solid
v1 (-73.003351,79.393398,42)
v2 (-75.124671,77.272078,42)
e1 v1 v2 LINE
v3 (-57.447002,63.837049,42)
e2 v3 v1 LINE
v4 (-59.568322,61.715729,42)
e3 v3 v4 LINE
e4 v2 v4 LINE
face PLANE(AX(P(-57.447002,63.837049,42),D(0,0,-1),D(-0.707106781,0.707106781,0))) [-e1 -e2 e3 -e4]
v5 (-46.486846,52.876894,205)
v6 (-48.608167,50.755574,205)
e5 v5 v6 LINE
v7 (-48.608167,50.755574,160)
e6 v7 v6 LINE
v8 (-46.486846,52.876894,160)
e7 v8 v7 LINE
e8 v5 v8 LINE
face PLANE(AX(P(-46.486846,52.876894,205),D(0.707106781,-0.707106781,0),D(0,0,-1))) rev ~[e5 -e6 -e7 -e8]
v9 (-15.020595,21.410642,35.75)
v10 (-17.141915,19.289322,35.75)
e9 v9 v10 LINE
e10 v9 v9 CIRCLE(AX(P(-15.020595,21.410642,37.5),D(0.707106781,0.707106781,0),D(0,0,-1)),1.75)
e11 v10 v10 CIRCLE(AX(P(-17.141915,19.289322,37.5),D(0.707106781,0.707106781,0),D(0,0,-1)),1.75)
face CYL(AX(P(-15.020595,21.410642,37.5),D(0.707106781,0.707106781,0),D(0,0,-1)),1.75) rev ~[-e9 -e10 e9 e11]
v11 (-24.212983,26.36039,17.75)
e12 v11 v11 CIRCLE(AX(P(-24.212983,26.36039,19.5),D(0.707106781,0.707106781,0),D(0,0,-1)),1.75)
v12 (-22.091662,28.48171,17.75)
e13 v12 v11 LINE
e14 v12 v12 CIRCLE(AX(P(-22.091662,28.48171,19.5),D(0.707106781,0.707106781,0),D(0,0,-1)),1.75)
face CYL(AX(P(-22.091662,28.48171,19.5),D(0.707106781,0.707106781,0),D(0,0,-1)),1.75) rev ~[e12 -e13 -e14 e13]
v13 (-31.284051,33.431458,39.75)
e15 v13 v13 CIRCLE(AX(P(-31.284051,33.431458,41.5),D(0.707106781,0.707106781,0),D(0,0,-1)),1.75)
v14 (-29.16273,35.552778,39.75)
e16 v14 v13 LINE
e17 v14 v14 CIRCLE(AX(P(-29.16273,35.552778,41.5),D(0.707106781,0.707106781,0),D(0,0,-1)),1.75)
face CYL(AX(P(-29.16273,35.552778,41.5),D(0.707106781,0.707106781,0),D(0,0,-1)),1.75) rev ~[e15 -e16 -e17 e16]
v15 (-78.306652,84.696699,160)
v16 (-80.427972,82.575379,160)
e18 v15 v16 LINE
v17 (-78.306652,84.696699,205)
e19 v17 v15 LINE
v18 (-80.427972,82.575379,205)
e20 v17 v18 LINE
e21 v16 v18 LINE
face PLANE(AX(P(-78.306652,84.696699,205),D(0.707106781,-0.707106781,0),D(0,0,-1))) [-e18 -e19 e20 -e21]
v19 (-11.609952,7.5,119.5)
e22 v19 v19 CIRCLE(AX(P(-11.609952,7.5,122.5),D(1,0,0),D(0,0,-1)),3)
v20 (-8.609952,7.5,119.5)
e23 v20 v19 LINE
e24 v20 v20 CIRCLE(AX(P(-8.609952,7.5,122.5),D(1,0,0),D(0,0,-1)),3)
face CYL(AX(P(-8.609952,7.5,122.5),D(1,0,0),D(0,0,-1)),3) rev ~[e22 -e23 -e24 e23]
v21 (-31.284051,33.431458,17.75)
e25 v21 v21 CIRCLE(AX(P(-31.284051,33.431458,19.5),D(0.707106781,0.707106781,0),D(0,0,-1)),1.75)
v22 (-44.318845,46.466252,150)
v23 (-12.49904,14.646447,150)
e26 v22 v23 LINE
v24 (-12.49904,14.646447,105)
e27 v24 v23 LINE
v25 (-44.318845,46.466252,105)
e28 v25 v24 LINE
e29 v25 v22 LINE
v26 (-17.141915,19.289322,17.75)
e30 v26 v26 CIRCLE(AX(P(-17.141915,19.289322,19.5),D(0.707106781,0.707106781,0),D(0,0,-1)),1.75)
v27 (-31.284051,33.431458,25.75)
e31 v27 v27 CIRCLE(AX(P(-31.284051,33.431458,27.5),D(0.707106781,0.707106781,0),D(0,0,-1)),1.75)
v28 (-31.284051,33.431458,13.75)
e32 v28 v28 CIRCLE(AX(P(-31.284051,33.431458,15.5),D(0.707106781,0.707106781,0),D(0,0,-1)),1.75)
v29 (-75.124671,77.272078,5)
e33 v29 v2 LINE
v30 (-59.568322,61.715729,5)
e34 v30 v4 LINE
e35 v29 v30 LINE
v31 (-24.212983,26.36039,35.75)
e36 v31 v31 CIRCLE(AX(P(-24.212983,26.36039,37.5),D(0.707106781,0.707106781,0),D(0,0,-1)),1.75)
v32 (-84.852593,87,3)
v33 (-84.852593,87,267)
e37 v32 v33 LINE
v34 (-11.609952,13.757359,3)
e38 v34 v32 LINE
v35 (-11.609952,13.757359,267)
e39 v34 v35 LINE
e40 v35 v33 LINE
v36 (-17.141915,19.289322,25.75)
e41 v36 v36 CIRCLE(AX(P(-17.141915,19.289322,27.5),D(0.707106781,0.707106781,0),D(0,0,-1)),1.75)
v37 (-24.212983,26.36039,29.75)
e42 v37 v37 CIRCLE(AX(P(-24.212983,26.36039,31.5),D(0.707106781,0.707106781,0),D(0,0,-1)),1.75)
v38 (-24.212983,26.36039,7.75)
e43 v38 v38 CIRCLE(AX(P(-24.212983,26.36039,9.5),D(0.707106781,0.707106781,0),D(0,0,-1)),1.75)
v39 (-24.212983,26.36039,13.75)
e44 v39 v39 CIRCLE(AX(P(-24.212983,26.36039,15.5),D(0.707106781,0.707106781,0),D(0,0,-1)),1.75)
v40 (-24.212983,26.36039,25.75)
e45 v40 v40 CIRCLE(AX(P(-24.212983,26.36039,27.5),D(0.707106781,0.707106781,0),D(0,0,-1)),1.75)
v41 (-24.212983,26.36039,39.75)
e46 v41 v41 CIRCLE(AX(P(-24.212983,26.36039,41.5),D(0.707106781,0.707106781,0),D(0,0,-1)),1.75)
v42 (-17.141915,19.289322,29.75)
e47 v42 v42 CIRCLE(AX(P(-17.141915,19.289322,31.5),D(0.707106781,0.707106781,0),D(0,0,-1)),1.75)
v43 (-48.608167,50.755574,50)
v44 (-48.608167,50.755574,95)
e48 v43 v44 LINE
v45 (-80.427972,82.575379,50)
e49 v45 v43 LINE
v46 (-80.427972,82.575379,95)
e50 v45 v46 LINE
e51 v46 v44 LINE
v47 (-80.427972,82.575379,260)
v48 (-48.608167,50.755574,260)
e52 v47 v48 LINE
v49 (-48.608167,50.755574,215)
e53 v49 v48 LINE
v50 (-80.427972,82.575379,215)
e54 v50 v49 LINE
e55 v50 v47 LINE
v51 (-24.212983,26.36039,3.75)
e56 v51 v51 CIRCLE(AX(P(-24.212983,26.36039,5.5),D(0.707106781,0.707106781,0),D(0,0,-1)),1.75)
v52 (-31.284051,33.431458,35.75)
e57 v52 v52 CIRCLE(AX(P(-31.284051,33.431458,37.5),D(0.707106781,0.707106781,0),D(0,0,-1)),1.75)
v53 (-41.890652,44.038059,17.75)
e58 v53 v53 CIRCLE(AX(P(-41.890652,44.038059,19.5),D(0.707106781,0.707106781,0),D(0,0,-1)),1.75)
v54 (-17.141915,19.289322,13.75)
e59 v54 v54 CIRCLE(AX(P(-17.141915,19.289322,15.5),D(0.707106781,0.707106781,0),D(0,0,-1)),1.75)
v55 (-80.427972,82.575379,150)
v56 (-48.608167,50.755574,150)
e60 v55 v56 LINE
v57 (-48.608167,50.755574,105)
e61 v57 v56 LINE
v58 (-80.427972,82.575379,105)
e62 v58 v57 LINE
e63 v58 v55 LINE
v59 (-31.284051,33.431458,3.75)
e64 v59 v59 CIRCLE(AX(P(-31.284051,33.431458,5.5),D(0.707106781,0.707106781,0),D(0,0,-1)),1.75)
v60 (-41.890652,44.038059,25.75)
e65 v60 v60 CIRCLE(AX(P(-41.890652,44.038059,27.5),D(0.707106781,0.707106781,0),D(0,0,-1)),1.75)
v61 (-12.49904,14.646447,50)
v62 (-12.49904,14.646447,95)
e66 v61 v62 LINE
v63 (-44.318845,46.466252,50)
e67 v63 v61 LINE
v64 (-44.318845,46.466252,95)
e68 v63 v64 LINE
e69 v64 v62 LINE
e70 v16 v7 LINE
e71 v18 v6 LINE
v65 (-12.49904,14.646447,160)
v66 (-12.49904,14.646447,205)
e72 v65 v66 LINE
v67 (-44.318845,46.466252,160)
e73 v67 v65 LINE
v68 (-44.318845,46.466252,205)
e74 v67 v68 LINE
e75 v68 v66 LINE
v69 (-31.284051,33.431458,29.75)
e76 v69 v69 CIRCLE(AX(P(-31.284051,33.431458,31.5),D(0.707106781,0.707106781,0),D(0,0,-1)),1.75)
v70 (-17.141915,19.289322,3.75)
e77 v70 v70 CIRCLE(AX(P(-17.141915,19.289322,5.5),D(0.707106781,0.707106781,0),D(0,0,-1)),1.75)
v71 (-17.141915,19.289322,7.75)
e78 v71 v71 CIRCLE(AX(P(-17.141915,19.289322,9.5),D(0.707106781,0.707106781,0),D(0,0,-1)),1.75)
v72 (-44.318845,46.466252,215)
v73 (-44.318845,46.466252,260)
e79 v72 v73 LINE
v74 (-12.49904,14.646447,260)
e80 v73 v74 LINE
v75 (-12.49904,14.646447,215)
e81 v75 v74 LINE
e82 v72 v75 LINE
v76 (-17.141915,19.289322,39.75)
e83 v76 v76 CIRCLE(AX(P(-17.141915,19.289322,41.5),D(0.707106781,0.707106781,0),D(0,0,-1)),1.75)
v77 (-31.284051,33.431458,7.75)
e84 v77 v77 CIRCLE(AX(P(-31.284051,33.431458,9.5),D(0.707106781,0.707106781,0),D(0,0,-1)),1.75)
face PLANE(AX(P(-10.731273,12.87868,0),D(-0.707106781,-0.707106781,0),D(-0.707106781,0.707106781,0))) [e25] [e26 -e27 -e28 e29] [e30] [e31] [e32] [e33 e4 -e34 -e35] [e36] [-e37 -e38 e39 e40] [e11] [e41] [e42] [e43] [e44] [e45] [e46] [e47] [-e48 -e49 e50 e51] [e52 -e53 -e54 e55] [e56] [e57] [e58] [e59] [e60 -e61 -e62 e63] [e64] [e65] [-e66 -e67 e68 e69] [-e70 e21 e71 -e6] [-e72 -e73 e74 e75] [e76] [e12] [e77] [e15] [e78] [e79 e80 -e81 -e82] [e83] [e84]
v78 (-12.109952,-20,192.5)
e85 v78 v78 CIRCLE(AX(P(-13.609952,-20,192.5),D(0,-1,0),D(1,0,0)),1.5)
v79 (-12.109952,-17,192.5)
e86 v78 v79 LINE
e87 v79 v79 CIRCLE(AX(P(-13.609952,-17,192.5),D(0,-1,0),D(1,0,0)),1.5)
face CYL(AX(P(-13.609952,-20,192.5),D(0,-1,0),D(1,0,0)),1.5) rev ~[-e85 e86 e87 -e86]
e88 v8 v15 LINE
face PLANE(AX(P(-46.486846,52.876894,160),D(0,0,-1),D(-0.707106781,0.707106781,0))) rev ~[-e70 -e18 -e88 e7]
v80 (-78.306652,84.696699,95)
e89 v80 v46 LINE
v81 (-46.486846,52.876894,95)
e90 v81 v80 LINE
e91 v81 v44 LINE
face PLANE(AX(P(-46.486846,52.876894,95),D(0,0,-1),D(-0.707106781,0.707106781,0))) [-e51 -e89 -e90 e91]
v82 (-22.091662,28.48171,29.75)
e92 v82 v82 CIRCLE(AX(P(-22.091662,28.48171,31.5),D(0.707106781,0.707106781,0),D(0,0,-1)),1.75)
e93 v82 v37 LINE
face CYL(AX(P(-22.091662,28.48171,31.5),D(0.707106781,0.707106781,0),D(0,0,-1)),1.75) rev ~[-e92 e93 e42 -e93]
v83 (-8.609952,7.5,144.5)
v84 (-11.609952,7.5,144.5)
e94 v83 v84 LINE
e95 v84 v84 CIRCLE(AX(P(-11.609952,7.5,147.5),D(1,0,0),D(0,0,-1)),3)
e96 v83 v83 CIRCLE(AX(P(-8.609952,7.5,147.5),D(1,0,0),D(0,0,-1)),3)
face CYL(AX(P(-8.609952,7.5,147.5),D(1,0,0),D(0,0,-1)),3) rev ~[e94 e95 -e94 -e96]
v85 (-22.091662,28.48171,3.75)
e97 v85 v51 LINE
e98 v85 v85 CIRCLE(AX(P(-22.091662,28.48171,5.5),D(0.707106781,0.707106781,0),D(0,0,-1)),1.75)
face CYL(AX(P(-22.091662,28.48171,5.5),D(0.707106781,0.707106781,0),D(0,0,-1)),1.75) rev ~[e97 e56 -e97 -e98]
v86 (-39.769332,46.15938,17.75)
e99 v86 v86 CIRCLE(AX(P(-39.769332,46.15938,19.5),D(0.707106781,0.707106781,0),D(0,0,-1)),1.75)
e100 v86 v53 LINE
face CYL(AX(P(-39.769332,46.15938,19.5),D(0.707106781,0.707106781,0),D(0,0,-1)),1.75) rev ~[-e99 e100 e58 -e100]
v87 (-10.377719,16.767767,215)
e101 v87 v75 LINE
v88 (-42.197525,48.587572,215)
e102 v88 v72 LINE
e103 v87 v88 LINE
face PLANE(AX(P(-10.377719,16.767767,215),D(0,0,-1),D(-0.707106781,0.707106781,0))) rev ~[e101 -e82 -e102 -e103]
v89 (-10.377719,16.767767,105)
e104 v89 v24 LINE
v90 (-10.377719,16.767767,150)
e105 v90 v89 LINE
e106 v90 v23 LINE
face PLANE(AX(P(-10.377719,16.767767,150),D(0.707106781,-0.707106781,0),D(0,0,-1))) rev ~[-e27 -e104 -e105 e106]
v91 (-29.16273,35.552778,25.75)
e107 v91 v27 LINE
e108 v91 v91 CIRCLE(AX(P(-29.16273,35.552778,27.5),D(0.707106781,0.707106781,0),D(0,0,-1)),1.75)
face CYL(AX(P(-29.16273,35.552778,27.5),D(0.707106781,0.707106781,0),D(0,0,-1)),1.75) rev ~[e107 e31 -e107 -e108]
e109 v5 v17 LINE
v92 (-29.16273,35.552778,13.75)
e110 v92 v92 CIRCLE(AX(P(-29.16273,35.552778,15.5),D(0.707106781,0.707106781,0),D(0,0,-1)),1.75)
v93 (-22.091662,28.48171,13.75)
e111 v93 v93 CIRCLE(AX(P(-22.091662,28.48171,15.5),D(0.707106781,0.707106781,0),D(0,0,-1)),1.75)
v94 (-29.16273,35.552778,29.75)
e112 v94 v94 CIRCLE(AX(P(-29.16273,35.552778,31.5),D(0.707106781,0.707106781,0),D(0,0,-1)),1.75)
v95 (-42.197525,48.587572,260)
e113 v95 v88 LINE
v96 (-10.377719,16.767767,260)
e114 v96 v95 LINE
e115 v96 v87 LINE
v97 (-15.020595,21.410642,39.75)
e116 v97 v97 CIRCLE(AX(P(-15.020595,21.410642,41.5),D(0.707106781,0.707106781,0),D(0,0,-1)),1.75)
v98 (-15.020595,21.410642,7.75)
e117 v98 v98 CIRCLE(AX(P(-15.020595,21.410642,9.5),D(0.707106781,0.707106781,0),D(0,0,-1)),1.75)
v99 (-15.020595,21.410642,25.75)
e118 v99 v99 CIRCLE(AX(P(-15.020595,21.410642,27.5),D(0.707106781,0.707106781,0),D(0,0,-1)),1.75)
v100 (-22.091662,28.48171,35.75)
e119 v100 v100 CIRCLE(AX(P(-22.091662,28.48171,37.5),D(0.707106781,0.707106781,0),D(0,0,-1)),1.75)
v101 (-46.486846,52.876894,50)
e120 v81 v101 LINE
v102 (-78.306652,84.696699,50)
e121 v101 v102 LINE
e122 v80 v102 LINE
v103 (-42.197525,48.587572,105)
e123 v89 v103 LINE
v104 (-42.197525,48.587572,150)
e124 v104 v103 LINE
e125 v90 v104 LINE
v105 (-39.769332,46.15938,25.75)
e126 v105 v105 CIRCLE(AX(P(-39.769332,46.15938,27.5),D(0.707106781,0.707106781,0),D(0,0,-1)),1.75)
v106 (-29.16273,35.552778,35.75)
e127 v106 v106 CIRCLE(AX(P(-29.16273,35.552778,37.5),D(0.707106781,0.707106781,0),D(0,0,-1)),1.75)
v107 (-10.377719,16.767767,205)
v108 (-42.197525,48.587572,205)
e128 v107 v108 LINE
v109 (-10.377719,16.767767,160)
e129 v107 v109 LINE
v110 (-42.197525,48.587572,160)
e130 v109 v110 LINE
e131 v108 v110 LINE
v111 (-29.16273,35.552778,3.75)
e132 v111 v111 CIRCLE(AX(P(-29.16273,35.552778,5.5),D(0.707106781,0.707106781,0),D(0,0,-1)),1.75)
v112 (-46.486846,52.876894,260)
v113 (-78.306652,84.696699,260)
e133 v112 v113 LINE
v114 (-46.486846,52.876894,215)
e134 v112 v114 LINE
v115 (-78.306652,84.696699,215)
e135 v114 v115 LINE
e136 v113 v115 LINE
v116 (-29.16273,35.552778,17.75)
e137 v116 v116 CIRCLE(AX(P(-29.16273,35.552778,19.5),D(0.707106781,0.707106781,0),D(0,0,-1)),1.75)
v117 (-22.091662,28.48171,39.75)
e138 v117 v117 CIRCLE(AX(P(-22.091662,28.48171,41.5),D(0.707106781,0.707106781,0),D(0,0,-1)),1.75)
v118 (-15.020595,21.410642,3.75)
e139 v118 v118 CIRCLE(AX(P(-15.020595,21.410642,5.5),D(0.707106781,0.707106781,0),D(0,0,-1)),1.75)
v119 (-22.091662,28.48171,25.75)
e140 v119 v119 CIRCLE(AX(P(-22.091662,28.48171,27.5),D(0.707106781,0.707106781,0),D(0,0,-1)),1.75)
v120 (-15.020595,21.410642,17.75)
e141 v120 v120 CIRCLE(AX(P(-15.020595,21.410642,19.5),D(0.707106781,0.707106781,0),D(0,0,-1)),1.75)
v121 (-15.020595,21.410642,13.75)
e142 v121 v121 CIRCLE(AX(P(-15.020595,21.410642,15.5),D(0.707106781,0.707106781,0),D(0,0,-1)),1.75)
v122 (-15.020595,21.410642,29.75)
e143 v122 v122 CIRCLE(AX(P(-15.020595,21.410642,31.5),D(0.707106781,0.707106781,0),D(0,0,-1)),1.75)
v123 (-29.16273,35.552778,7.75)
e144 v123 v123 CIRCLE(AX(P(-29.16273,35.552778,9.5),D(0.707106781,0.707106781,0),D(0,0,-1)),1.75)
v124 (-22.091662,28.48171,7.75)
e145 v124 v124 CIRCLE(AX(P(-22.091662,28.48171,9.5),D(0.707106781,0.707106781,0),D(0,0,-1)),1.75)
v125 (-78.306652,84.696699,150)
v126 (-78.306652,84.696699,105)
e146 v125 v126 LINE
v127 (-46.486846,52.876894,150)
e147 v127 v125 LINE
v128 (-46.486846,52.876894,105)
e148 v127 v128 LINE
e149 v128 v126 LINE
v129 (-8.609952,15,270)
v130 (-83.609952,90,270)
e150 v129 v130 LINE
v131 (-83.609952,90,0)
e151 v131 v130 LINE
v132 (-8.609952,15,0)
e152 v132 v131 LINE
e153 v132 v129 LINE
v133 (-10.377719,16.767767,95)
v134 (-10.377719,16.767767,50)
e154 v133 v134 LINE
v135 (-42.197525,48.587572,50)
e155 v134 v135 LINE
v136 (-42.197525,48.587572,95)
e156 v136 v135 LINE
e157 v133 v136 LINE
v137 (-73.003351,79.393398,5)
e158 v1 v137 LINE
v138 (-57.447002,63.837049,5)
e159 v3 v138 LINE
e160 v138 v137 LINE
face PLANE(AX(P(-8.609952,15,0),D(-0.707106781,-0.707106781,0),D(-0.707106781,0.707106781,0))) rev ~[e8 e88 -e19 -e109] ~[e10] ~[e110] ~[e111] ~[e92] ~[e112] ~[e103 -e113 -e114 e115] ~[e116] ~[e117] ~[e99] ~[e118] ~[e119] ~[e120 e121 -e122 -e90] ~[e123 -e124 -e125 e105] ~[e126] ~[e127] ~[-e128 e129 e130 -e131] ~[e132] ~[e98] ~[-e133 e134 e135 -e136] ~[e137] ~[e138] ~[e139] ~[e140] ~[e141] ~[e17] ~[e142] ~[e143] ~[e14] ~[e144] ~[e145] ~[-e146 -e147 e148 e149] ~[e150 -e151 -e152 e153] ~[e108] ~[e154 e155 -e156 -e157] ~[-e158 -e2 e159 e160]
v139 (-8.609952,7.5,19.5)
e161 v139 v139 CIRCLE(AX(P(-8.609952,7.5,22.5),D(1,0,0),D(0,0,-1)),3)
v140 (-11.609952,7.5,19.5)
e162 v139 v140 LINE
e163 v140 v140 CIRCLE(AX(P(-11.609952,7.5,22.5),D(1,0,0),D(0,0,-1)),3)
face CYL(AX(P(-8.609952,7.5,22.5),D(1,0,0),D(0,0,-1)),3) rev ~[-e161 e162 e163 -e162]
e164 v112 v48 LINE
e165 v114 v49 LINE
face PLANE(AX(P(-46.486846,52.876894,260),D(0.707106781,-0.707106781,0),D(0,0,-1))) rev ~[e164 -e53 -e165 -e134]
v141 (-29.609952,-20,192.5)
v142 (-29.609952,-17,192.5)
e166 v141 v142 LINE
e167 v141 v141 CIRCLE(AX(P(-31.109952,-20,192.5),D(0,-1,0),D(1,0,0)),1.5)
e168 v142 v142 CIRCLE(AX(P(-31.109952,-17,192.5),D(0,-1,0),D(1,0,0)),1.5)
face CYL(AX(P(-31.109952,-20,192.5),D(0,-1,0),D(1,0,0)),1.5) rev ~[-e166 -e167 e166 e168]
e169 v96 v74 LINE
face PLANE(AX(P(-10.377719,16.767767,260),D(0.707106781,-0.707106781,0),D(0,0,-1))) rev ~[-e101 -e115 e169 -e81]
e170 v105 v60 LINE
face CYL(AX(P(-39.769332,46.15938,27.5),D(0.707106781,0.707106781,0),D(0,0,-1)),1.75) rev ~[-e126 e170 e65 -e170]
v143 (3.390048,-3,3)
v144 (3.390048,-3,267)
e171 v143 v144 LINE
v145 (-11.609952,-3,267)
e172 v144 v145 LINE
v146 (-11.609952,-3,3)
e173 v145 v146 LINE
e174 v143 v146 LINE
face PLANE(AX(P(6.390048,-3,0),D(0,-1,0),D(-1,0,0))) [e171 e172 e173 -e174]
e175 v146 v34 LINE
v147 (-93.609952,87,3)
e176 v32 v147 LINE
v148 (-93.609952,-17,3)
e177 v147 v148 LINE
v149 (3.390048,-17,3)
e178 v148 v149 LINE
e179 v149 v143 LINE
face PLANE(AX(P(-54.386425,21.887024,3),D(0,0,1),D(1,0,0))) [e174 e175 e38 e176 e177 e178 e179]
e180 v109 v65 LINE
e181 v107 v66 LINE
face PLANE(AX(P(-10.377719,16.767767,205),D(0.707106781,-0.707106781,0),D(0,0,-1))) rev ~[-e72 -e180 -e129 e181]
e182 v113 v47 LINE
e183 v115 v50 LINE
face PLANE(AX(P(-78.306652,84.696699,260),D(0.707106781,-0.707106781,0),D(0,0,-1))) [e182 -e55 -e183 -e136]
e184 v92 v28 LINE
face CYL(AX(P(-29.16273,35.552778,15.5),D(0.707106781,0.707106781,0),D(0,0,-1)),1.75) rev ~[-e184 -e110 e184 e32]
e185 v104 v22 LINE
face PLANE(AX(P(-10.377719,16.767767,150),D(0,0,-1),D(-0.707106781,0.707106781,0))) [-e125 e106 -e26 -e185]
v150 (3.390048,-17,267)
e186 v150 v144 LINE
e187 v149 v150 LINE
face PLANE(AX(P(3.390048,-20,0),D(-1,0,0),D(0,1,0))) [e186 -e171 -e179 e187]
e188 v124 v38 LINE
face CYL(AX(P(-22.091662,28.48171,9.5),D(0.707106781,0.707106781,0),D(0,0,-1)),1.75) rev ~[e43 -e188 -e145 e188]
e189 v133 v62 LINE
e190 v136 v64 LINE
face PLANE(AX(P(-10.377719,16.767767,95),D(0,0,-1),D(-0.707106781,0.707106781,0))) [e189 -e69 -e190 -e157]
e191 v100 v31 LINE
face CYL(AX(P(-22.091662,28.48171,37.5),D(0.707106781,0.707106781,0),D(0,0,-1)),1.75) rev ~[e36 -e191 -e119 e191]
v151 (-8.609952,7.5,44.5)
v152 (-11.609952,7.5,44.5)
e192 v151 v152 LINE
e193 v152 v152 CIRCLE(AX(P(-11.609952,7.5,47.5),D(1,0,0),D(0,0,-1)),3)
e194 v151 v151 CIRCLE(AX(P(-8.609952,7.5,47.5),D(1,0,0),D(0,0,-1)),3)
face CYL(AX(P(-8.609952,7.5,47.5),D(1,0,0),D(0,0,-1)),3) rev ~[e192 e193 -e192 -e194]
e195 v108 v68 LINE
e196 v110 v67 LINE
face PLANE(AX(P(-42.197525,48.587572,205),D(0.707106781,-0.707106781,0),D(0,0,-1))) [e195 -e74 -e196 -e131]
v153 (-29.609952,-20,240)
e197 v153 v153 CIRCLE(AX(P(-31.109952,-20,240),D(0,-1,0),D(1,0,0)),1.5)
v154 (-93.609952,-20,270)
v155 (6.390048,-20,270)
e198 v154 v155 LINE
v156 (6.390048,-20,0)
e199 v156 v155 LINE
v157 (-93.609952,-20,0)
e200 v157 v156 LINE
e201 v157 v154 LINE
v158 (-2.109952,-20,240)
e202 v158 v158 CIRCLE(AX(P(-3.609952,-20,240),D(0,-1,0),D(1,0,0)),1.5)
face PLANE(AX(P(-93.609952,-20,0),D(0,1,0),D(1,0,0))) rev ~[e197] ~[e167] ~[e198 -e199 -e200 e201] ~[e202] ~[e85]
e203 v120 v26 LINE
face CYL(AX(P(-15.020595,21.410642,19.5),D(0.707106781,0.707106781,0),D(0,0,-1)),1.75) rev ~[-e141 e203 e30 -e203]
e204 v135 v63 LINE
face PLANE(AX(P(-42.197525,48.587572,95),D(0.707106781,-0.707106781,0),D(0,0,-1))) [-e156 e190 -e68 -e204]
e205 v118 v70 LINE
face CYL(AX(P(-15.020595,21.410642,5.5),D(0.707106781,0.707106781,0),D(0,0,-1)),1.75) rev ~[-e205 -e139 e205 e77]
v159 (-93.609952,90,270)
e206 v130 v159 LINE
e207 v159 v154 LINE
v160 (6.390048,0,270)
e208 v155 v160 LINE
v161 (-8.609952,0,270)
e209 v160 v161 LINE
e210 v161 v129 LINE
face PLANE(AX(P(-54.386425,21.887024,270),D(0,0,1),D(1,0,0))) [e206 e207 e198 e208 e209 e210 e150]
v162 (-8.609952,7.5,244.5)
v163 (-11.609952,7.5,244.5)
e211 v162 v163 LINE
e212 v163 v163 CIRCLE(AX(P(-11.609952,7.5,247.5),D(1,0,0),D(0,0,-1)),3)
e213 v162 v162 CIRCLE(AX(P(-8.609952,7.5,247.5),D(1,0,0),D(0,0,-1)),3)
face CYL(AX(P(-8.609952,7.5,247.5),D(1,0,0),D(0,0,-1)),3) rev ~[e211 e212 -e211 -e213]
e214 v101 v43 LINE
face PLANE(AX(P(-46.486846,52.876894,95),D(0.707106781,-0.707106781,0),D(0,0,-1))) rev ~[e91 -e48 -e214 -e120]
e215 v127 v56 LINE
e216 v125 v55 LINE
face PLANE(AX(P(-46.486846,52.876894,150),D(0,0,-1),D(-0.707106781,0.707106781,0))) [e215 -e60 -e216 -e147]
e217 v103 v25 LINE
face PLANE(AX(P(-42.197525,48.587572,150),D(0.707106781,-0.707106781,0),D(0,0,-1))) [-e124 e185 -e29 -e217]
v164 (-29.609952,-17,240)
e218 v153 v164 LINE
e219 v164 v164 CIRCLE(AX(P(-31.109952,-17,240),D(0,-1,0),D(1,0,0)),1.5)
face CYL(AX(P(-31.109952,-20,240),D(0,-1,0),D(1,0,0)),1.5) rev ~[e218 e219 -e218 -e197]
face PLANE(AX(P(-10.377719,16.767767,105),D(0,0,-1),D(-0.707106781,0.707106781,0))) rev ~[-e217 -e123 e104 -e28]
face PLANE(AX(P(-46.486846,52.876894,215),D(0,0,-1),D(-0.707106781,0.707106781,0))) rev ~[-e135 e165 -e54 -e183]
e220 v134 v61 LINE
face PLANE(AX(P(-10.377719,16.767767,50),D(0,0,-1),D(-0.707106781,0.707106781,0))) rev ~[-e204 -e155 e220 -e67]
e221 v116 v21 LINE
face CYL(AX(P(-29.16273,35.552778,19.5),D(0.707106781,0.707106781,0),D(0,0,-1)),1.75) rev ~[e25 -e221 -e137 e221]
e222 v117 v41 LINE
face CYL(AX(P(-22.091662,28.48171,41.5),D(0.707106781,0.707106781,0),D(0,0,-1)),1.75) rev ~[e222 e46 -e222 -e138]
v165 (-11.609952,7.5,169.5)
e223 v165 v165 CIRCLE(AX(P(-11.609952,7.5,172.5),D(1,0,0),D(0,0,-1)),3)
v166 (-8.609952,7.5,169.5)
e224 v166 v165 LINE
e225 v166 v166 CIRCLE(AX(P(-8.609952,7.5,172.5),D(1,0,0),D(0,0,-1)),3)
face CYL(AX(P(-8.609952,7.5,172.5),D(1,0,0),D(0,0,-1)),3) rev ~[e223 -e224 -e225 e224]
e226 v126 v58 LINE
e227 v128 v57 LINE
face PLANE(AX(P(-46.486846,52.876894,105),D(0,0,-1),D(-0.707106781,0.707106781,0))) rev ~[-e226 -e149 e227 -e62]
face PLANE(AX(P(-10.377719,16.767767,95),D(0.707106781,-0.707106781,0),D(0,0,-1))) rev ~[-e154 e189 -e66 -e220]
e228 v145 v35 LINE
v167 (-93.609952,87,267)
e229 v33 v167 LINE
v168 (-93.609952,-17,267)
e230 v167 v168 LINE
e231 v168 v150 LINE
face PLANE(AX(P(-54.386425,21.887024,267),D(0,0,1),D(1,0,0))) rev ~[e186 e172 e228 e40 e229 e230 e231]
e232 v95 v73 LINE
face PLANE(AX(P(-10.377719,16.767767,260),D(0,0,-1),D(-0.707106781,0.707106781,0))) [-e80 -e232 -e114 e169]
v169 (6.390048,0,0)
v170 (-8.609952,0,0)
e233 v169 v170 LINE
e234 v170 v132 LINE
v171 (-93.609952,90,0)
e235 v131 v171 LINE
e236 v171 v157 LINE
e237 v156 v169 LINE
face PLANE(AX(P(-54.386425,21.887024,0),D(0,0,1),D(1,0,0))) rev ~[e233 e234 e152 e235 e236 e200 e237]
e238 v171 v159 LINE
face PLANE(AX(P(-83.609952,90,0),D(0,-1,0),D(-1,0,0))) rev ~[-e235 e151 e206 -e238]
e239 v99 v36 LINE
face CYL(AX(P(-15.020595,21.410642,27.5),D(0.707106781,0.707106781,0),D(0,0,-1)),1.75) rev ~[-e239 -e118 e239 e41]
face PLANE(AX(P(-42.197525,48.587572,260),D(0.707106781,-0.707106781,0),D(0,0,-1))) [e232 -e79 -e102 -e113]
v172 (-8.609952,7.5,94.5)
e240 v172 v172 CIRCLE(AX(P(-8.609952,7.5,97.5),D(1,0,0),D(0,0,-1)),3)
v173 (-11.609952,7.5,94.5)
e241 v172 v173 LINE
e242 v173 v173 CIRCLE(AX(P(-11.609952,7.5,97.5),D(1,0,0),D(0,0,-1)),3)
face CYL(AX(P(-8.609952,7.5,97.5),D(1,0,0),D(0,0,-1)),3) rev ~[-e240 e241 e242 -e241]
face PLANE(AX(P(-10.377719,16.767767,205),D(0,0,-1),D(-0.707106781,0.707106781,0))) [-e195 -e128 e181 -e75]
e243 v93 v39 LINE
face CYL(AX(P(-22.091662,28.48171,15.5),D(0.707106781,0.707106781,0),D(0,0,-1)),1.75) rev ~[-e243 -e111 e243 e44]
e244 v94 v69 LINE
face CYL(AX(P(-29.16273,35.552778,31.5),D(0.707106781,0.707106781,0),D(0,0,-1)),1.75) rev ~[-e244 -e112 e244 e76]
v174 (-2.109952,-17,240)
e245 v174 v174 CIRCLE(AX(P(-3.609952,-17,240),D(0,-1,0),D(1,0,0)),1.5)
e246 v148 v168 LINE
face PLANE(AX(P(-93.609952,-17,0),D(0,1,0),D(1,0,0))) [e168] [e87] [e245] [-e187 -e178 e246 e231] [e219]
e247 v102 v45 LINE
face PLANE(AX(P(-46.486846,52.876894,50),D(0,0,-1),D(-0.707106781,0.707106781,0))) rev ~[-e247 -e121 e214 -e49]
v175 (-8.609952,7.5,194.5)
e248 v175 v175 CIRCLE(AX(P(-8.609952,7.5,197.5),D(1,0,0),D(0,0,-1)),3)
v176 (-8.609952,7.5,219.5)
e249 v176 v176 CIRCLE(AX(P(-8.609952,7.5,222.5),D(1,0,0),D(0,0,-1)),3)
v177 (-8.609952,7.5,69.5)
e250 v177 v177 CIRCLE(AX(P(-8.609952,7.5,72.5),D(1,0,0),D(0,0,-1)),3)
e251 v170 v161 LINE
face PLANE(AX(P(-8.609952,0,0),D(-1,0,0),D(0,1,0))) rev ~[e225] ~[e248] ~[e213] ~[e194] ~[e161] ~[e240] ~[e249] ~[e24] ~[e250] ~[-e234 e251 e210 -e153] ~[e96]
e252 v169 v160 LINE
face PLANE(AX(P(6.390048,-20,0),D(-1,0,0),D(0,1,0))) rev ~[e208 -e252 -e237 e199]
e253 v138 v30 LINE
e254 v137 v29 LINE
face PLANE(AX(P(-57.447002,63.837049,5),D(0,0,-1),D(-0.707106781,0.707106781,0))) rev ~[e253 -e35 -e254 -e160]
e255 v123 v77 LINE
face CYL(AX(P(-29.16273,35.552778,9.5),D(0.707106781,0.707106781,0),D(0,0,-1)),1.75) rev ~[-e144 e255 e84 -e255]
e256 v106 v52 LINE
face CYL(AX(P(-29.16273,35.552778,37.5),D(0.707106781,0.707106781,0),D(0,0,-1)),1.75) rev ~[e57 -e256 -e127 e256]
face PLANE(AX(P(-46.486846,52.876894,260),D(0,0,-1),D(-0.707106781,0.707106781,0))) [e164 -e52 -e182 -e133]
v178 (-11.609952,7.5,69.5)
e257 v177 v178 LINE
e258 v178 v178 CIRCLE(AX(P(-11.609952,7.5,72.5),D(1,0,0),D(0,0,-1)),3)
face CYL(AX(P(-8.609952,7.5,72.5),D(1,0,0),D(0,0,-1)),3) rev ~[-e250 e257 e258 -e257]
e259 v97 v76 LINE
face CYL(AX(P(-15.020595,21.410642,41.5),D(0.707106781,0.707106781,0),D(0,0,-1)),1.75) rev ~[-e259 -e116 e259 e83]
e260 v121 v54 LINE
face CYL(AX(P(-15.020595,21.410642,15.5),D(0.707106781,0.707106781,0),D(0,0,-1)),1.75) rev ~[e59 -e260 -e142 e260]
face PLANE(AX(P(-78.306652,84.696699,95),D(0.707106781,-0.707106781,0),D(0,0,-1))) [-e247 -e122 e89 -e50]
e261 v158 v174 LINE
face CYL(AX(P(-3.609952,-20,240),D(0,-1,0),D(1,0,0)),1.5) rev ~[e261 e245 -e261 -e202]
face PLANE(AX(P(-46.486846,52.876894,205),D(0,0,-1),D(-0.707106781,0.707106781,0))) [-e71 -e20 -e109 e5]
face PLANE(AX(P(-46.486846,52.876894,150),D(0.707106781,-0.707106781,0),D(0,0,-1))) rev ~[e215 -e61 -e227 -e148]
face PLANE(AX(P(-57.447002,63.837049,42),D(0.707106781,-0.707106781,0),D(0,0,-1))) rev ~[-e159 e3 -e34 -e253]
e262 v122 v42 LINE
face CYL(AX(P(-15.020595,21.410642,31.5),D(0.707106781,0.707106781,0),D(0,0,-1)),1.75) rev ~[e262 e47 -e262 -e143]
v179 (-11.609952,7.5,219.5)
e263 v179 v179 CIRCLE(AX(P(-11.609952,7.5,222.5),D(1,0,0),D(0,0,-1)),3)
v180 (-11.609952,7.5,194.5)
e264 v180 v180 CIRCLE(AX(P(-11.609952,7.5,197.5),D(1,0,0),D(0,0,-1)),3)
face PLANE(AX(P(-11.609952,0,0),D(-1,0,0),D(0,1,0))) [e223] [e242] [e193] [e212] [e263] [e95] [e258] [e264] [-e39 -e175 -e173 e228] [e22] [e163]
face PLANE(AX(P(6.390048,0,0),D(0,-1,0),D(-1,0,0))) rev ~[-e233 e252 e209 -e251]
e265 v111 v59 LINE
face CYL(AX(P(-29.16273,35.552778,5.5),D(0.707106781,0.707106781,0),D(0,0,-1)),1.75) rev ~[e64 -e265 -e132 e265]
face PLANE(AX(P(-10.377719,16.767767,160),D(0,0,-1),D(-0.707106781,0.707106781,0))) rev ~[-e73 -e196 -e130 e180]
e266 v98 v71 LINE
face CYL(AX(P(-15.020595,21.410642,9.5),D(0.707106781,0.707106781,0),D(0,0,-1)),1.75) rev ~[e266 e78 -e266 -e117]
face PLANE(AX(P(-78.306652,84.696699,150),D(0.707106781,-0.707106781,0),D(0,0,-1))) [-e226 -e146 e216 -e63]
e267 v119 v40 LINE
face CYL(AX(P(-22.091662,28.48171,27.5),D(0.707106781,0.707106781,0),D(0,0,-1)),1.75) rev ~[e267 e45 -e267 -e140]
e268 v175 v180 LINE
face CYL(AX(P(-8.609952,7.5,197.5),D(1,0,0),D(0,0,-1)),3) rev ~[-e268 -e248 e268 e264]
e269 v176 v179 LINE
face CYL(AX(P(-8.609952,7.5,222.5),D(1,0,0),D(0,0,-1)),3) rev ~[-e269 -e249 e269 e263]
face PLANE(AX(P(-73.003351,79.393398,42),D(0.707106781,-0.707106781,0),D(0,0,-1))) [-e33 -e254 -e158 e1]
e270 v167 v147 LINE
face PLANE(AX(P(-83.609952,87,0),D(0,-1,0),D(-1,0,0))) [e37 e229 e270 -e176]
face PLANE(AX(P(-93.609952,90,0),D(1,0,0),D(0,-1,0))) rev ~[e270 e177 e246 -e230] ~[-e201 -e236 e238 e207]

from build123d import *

# Parameters (mm, degrees)
EXTRUDE_1_DEPTH     = 270
SHELL_6_T           = -3
SKETCH_8_W          = 45
SKETCH_8_H          = 45
CUT_EXTRUDE_1_DEPTH = 300.677004987
SKETCH_8_5_R        = 1.75
SKETCH_8_5_W        = 45
SKETCH_8_5_H        = 45
SKETCH_8_5_W_2      = 37
SKETCH_8_5_H_2      = 22
CUT_EXTRUDE_3_DEPTH = 10
SKETCH_10_R         = 3
CUT_EXTRUDE_4_DEPTH = 3
SKETCH_15_R         = 1.5
CUT_EXTRUDE_5_DEPTH = 3


with BuildPart() as part:
    # 草图1 → 凸台-拉伸1 (new body)
    with BuildSketch(Plane.XY):
        Polygon((-93.609952443, -20), (6.390047557, -20), (6.390047557, 0), (-8.609952443, 0), (-8.609952443, 15), (-83.609952443, 90), (-93.609952443, 90), align=None)
    extrude(amount=EXTRUDE_1_DEPTH)

    # 抽壳6
    shell_6_openings = [part.faces().sort_by_distance(p)[0] for p in [
        (-93.609952443, 35, 135),
    ]]
    offset(amount=SHELL_6_T, openings=shell_6_openings, kind=Kind.INTERSECTION)

    # 草图8 → 切除-拉伸1 (cut, through all)
    with BuildSketch(Plane(origin=(3.195023779, 3.195023779, 0), x_dir=(0, 0, -1), z_dir=(0.7071067811865481, 0.7071067811865469, 0))):
        with Locations((-237.5, 92.760774654)):
            Rectangle(SKETCH_8_W, SKETCH_8_H)
    extrude(amount=-CUT_EXTRUDE_1_DEPTH, mode=Mode.SUBTRACT)

    # 草图8<5> → 切除-拉伸3 (cut)
    with BuildSketch(Plane(origin=(3.195023779, 3.195023779, 0), x_dir=(0, 0, -1), z_dir=(0.7071067811865481, 0.7071067811865469, 0))):
        with Locations((-19.5, 45.760774654)):
            Circle(SKETCH_8_5_R)
        with Locations((-15.5, 45.760774654)):
            Circle(SKETCH_8_5_R)
        with Locations((-9.5, 45.760774654)):
            Circle(SKETCH_8_5_R)
        with Locations((-5.5, 45.760774654)):
            Circle(SKETCH_8_5_R)
        with Locations((-27.5, 45.760774654)):
            Circle(SKETCH_8_5_R)
        with Locations((-31.5, 45.760774654)):
            Circle(SKETCH_8_5_R)
        with Locations((-37.5, 45.760774654)):
            Circle(SKETCH_8_5_R)
        with Locations((-41.5, 45.760774654)):
            Circle(SKETCH_8_5_R)
        with Locations((-5.5, 35.760774654)):
            Circle(SKETCH_8_5_R)
        with Locations((-9.5, 35.760774654)):
            Circle(SKETCH_8_5_R)
        with Locations((-15.5, 35.760774654)):
            Circle(SKETCH_8_5_R)
        with Locations((-19.5, 35.760774654)):
            Circle(SKETCH_8_5_R)
        with Locations((-27.5, 35.760774654)):
            Circle(SKETCH_8_5_R)
        with Locations((-31.5, 35.760774654)):
            Circle(SKETCH_8_5_R)
        with Locations((-37.5, 35.760774654)):
            Circle(SKETCH_8_5_R)
        with Locations((-41.5, 35.760774654)):
            Circle(SKETCH_8_5_R)
        with Locations((-41.5, 25.760774654)):
            Circle(SKETCH_8_5_R)
        with Locations((-37.5, 25.760774654)):
            Circle(SKETCH_8_5_R)
        with Locations((-31.5, 25.760774654)):
            Circle(SKETCH_8_5_R)
        with Locations((-27.5, 25.760774654)):
            Circle(SKETCH_8_5_R)
        with Locations((-19.5, 25.760774654)):
            Circle(SKETCH_8_5_R)
        with Locations((-15.5, 25.760774654)):
            Circle(SKETCH_8_5_R)
        with Locations((-9.5, 25.760774654)):
            Circle(SKETCH_8_5_R)
        with Locations((-5.5, 25.760774654)):
            Circle(SKETCH_8_5_R)
        with Locations((-19.5, 60.760774654)):
            Circle(SKETCH_8_5_R)
        with Locations((-27.5, 60.760774654)):
            Circle(SKETCH_8_5_R)
        with Locations((-237.5, 41.694757476)):
            Rectangle(SKETCH_8_5_W, SKETCH_8_5_H)
        with Locations((-237.5, 92.760774654)):
            Rectangle(SKETCH_8_5_W, SKETCH_8_5_H)
        with Locations((-182.5, 92.760774654)):
            Rectangle(SKETCH_8_5_W, SKETCH_8_5_H)
        with Locations((-127.5, 92.760774654)):
            Rectangle(SKETCH_8_5_W, SKETCH_8_5_H)
        with Locations((-182.5, 41.694757476)):
            Rectangle(SKETCH_8_5_W, SKETCH_8_5_H)
        with Locations((-72.5, 92.760774654)):
            Rectangle(SKETCH_8_5_W, SKETCH_8_5_H)
        with Locations((-127.5, 41.694757476)):
            Rectangle(SKETCH_8_5_W, SKETCH_8_5_H)
        with Locations((-72.5, 41.694757476)):
            Rectangle(SKETCH_8_5_W, SKETCH_8_5_H)
        with Locations((-23.5, 96.760774654)):
            Rectangle(SKETCH_8_5_W_2, SKETCH_8_5_H_2)
    extrude(amount=-CUT_EXTRUDE_3_DEPTH, mode=Mode.SUBTRACT)

    # 草图10 → 切除-拉伸4 (cut)
    with BuildSketch(Plane(origin=(-8.609952443, 0, 0), x_dir=(0, 0, -1), z_dir=(1, 0, 0))):
        with Locations((-247.5, 7.5)):
            Circle(SKETCH_10_R)
        with Locations((-222.5, 7.5)):
            Circle(SKETCH_10_R)
        with Locations((-97.5, 7.5)):
            Circle(SKETCH_10_R)
        with Locations((-122.5, 7.5)):
            Circle(SKETCH_10_R)
        with Locations((-147.5, 7.5)):
            Circle(SKETCH_10_R)
        with Locations((-172.5, 7.5)):
            Circle(SKETCH_10_R)
        with Locations((-197.5, 7.5)):
            Circle(SKETCH_10_R)
        with Locations((-72.5, 7.5)):
            Circle(SKETCH_10_R)
        with Locations((-47.5, 7.5)):
            Circle(SKETCH_10_R)
        with Locations((-22.5, 7.5)):
            Circle(SKETCH_10_R)
    extrude(amount=-CUT_EXTRUDE_4_DEPTH, mode=Mode.SUBTRACT)

    # 草图15 → 切除-拉伸5 (cut)
    with BuildSketch(Plane.XZ.offset(20)):
        with Locations((-31.109952443, 192.5)):
            Circle(SKETCH_15_R)
        with Locations((-13.609952443, 192.5)):
            Circle(SKETCH_15_R)
        with Locations((-3.609952443, 240)):
            Circle(SKETCH_15_R)
        with Locations((-31.109952443, 240)):
            Circle(SKETCH_15_R)
    extrude(amount=-CUT_EXTRUDE_5_DEPTH, mode=Mode.SUBTRACT)


solid = part.part
